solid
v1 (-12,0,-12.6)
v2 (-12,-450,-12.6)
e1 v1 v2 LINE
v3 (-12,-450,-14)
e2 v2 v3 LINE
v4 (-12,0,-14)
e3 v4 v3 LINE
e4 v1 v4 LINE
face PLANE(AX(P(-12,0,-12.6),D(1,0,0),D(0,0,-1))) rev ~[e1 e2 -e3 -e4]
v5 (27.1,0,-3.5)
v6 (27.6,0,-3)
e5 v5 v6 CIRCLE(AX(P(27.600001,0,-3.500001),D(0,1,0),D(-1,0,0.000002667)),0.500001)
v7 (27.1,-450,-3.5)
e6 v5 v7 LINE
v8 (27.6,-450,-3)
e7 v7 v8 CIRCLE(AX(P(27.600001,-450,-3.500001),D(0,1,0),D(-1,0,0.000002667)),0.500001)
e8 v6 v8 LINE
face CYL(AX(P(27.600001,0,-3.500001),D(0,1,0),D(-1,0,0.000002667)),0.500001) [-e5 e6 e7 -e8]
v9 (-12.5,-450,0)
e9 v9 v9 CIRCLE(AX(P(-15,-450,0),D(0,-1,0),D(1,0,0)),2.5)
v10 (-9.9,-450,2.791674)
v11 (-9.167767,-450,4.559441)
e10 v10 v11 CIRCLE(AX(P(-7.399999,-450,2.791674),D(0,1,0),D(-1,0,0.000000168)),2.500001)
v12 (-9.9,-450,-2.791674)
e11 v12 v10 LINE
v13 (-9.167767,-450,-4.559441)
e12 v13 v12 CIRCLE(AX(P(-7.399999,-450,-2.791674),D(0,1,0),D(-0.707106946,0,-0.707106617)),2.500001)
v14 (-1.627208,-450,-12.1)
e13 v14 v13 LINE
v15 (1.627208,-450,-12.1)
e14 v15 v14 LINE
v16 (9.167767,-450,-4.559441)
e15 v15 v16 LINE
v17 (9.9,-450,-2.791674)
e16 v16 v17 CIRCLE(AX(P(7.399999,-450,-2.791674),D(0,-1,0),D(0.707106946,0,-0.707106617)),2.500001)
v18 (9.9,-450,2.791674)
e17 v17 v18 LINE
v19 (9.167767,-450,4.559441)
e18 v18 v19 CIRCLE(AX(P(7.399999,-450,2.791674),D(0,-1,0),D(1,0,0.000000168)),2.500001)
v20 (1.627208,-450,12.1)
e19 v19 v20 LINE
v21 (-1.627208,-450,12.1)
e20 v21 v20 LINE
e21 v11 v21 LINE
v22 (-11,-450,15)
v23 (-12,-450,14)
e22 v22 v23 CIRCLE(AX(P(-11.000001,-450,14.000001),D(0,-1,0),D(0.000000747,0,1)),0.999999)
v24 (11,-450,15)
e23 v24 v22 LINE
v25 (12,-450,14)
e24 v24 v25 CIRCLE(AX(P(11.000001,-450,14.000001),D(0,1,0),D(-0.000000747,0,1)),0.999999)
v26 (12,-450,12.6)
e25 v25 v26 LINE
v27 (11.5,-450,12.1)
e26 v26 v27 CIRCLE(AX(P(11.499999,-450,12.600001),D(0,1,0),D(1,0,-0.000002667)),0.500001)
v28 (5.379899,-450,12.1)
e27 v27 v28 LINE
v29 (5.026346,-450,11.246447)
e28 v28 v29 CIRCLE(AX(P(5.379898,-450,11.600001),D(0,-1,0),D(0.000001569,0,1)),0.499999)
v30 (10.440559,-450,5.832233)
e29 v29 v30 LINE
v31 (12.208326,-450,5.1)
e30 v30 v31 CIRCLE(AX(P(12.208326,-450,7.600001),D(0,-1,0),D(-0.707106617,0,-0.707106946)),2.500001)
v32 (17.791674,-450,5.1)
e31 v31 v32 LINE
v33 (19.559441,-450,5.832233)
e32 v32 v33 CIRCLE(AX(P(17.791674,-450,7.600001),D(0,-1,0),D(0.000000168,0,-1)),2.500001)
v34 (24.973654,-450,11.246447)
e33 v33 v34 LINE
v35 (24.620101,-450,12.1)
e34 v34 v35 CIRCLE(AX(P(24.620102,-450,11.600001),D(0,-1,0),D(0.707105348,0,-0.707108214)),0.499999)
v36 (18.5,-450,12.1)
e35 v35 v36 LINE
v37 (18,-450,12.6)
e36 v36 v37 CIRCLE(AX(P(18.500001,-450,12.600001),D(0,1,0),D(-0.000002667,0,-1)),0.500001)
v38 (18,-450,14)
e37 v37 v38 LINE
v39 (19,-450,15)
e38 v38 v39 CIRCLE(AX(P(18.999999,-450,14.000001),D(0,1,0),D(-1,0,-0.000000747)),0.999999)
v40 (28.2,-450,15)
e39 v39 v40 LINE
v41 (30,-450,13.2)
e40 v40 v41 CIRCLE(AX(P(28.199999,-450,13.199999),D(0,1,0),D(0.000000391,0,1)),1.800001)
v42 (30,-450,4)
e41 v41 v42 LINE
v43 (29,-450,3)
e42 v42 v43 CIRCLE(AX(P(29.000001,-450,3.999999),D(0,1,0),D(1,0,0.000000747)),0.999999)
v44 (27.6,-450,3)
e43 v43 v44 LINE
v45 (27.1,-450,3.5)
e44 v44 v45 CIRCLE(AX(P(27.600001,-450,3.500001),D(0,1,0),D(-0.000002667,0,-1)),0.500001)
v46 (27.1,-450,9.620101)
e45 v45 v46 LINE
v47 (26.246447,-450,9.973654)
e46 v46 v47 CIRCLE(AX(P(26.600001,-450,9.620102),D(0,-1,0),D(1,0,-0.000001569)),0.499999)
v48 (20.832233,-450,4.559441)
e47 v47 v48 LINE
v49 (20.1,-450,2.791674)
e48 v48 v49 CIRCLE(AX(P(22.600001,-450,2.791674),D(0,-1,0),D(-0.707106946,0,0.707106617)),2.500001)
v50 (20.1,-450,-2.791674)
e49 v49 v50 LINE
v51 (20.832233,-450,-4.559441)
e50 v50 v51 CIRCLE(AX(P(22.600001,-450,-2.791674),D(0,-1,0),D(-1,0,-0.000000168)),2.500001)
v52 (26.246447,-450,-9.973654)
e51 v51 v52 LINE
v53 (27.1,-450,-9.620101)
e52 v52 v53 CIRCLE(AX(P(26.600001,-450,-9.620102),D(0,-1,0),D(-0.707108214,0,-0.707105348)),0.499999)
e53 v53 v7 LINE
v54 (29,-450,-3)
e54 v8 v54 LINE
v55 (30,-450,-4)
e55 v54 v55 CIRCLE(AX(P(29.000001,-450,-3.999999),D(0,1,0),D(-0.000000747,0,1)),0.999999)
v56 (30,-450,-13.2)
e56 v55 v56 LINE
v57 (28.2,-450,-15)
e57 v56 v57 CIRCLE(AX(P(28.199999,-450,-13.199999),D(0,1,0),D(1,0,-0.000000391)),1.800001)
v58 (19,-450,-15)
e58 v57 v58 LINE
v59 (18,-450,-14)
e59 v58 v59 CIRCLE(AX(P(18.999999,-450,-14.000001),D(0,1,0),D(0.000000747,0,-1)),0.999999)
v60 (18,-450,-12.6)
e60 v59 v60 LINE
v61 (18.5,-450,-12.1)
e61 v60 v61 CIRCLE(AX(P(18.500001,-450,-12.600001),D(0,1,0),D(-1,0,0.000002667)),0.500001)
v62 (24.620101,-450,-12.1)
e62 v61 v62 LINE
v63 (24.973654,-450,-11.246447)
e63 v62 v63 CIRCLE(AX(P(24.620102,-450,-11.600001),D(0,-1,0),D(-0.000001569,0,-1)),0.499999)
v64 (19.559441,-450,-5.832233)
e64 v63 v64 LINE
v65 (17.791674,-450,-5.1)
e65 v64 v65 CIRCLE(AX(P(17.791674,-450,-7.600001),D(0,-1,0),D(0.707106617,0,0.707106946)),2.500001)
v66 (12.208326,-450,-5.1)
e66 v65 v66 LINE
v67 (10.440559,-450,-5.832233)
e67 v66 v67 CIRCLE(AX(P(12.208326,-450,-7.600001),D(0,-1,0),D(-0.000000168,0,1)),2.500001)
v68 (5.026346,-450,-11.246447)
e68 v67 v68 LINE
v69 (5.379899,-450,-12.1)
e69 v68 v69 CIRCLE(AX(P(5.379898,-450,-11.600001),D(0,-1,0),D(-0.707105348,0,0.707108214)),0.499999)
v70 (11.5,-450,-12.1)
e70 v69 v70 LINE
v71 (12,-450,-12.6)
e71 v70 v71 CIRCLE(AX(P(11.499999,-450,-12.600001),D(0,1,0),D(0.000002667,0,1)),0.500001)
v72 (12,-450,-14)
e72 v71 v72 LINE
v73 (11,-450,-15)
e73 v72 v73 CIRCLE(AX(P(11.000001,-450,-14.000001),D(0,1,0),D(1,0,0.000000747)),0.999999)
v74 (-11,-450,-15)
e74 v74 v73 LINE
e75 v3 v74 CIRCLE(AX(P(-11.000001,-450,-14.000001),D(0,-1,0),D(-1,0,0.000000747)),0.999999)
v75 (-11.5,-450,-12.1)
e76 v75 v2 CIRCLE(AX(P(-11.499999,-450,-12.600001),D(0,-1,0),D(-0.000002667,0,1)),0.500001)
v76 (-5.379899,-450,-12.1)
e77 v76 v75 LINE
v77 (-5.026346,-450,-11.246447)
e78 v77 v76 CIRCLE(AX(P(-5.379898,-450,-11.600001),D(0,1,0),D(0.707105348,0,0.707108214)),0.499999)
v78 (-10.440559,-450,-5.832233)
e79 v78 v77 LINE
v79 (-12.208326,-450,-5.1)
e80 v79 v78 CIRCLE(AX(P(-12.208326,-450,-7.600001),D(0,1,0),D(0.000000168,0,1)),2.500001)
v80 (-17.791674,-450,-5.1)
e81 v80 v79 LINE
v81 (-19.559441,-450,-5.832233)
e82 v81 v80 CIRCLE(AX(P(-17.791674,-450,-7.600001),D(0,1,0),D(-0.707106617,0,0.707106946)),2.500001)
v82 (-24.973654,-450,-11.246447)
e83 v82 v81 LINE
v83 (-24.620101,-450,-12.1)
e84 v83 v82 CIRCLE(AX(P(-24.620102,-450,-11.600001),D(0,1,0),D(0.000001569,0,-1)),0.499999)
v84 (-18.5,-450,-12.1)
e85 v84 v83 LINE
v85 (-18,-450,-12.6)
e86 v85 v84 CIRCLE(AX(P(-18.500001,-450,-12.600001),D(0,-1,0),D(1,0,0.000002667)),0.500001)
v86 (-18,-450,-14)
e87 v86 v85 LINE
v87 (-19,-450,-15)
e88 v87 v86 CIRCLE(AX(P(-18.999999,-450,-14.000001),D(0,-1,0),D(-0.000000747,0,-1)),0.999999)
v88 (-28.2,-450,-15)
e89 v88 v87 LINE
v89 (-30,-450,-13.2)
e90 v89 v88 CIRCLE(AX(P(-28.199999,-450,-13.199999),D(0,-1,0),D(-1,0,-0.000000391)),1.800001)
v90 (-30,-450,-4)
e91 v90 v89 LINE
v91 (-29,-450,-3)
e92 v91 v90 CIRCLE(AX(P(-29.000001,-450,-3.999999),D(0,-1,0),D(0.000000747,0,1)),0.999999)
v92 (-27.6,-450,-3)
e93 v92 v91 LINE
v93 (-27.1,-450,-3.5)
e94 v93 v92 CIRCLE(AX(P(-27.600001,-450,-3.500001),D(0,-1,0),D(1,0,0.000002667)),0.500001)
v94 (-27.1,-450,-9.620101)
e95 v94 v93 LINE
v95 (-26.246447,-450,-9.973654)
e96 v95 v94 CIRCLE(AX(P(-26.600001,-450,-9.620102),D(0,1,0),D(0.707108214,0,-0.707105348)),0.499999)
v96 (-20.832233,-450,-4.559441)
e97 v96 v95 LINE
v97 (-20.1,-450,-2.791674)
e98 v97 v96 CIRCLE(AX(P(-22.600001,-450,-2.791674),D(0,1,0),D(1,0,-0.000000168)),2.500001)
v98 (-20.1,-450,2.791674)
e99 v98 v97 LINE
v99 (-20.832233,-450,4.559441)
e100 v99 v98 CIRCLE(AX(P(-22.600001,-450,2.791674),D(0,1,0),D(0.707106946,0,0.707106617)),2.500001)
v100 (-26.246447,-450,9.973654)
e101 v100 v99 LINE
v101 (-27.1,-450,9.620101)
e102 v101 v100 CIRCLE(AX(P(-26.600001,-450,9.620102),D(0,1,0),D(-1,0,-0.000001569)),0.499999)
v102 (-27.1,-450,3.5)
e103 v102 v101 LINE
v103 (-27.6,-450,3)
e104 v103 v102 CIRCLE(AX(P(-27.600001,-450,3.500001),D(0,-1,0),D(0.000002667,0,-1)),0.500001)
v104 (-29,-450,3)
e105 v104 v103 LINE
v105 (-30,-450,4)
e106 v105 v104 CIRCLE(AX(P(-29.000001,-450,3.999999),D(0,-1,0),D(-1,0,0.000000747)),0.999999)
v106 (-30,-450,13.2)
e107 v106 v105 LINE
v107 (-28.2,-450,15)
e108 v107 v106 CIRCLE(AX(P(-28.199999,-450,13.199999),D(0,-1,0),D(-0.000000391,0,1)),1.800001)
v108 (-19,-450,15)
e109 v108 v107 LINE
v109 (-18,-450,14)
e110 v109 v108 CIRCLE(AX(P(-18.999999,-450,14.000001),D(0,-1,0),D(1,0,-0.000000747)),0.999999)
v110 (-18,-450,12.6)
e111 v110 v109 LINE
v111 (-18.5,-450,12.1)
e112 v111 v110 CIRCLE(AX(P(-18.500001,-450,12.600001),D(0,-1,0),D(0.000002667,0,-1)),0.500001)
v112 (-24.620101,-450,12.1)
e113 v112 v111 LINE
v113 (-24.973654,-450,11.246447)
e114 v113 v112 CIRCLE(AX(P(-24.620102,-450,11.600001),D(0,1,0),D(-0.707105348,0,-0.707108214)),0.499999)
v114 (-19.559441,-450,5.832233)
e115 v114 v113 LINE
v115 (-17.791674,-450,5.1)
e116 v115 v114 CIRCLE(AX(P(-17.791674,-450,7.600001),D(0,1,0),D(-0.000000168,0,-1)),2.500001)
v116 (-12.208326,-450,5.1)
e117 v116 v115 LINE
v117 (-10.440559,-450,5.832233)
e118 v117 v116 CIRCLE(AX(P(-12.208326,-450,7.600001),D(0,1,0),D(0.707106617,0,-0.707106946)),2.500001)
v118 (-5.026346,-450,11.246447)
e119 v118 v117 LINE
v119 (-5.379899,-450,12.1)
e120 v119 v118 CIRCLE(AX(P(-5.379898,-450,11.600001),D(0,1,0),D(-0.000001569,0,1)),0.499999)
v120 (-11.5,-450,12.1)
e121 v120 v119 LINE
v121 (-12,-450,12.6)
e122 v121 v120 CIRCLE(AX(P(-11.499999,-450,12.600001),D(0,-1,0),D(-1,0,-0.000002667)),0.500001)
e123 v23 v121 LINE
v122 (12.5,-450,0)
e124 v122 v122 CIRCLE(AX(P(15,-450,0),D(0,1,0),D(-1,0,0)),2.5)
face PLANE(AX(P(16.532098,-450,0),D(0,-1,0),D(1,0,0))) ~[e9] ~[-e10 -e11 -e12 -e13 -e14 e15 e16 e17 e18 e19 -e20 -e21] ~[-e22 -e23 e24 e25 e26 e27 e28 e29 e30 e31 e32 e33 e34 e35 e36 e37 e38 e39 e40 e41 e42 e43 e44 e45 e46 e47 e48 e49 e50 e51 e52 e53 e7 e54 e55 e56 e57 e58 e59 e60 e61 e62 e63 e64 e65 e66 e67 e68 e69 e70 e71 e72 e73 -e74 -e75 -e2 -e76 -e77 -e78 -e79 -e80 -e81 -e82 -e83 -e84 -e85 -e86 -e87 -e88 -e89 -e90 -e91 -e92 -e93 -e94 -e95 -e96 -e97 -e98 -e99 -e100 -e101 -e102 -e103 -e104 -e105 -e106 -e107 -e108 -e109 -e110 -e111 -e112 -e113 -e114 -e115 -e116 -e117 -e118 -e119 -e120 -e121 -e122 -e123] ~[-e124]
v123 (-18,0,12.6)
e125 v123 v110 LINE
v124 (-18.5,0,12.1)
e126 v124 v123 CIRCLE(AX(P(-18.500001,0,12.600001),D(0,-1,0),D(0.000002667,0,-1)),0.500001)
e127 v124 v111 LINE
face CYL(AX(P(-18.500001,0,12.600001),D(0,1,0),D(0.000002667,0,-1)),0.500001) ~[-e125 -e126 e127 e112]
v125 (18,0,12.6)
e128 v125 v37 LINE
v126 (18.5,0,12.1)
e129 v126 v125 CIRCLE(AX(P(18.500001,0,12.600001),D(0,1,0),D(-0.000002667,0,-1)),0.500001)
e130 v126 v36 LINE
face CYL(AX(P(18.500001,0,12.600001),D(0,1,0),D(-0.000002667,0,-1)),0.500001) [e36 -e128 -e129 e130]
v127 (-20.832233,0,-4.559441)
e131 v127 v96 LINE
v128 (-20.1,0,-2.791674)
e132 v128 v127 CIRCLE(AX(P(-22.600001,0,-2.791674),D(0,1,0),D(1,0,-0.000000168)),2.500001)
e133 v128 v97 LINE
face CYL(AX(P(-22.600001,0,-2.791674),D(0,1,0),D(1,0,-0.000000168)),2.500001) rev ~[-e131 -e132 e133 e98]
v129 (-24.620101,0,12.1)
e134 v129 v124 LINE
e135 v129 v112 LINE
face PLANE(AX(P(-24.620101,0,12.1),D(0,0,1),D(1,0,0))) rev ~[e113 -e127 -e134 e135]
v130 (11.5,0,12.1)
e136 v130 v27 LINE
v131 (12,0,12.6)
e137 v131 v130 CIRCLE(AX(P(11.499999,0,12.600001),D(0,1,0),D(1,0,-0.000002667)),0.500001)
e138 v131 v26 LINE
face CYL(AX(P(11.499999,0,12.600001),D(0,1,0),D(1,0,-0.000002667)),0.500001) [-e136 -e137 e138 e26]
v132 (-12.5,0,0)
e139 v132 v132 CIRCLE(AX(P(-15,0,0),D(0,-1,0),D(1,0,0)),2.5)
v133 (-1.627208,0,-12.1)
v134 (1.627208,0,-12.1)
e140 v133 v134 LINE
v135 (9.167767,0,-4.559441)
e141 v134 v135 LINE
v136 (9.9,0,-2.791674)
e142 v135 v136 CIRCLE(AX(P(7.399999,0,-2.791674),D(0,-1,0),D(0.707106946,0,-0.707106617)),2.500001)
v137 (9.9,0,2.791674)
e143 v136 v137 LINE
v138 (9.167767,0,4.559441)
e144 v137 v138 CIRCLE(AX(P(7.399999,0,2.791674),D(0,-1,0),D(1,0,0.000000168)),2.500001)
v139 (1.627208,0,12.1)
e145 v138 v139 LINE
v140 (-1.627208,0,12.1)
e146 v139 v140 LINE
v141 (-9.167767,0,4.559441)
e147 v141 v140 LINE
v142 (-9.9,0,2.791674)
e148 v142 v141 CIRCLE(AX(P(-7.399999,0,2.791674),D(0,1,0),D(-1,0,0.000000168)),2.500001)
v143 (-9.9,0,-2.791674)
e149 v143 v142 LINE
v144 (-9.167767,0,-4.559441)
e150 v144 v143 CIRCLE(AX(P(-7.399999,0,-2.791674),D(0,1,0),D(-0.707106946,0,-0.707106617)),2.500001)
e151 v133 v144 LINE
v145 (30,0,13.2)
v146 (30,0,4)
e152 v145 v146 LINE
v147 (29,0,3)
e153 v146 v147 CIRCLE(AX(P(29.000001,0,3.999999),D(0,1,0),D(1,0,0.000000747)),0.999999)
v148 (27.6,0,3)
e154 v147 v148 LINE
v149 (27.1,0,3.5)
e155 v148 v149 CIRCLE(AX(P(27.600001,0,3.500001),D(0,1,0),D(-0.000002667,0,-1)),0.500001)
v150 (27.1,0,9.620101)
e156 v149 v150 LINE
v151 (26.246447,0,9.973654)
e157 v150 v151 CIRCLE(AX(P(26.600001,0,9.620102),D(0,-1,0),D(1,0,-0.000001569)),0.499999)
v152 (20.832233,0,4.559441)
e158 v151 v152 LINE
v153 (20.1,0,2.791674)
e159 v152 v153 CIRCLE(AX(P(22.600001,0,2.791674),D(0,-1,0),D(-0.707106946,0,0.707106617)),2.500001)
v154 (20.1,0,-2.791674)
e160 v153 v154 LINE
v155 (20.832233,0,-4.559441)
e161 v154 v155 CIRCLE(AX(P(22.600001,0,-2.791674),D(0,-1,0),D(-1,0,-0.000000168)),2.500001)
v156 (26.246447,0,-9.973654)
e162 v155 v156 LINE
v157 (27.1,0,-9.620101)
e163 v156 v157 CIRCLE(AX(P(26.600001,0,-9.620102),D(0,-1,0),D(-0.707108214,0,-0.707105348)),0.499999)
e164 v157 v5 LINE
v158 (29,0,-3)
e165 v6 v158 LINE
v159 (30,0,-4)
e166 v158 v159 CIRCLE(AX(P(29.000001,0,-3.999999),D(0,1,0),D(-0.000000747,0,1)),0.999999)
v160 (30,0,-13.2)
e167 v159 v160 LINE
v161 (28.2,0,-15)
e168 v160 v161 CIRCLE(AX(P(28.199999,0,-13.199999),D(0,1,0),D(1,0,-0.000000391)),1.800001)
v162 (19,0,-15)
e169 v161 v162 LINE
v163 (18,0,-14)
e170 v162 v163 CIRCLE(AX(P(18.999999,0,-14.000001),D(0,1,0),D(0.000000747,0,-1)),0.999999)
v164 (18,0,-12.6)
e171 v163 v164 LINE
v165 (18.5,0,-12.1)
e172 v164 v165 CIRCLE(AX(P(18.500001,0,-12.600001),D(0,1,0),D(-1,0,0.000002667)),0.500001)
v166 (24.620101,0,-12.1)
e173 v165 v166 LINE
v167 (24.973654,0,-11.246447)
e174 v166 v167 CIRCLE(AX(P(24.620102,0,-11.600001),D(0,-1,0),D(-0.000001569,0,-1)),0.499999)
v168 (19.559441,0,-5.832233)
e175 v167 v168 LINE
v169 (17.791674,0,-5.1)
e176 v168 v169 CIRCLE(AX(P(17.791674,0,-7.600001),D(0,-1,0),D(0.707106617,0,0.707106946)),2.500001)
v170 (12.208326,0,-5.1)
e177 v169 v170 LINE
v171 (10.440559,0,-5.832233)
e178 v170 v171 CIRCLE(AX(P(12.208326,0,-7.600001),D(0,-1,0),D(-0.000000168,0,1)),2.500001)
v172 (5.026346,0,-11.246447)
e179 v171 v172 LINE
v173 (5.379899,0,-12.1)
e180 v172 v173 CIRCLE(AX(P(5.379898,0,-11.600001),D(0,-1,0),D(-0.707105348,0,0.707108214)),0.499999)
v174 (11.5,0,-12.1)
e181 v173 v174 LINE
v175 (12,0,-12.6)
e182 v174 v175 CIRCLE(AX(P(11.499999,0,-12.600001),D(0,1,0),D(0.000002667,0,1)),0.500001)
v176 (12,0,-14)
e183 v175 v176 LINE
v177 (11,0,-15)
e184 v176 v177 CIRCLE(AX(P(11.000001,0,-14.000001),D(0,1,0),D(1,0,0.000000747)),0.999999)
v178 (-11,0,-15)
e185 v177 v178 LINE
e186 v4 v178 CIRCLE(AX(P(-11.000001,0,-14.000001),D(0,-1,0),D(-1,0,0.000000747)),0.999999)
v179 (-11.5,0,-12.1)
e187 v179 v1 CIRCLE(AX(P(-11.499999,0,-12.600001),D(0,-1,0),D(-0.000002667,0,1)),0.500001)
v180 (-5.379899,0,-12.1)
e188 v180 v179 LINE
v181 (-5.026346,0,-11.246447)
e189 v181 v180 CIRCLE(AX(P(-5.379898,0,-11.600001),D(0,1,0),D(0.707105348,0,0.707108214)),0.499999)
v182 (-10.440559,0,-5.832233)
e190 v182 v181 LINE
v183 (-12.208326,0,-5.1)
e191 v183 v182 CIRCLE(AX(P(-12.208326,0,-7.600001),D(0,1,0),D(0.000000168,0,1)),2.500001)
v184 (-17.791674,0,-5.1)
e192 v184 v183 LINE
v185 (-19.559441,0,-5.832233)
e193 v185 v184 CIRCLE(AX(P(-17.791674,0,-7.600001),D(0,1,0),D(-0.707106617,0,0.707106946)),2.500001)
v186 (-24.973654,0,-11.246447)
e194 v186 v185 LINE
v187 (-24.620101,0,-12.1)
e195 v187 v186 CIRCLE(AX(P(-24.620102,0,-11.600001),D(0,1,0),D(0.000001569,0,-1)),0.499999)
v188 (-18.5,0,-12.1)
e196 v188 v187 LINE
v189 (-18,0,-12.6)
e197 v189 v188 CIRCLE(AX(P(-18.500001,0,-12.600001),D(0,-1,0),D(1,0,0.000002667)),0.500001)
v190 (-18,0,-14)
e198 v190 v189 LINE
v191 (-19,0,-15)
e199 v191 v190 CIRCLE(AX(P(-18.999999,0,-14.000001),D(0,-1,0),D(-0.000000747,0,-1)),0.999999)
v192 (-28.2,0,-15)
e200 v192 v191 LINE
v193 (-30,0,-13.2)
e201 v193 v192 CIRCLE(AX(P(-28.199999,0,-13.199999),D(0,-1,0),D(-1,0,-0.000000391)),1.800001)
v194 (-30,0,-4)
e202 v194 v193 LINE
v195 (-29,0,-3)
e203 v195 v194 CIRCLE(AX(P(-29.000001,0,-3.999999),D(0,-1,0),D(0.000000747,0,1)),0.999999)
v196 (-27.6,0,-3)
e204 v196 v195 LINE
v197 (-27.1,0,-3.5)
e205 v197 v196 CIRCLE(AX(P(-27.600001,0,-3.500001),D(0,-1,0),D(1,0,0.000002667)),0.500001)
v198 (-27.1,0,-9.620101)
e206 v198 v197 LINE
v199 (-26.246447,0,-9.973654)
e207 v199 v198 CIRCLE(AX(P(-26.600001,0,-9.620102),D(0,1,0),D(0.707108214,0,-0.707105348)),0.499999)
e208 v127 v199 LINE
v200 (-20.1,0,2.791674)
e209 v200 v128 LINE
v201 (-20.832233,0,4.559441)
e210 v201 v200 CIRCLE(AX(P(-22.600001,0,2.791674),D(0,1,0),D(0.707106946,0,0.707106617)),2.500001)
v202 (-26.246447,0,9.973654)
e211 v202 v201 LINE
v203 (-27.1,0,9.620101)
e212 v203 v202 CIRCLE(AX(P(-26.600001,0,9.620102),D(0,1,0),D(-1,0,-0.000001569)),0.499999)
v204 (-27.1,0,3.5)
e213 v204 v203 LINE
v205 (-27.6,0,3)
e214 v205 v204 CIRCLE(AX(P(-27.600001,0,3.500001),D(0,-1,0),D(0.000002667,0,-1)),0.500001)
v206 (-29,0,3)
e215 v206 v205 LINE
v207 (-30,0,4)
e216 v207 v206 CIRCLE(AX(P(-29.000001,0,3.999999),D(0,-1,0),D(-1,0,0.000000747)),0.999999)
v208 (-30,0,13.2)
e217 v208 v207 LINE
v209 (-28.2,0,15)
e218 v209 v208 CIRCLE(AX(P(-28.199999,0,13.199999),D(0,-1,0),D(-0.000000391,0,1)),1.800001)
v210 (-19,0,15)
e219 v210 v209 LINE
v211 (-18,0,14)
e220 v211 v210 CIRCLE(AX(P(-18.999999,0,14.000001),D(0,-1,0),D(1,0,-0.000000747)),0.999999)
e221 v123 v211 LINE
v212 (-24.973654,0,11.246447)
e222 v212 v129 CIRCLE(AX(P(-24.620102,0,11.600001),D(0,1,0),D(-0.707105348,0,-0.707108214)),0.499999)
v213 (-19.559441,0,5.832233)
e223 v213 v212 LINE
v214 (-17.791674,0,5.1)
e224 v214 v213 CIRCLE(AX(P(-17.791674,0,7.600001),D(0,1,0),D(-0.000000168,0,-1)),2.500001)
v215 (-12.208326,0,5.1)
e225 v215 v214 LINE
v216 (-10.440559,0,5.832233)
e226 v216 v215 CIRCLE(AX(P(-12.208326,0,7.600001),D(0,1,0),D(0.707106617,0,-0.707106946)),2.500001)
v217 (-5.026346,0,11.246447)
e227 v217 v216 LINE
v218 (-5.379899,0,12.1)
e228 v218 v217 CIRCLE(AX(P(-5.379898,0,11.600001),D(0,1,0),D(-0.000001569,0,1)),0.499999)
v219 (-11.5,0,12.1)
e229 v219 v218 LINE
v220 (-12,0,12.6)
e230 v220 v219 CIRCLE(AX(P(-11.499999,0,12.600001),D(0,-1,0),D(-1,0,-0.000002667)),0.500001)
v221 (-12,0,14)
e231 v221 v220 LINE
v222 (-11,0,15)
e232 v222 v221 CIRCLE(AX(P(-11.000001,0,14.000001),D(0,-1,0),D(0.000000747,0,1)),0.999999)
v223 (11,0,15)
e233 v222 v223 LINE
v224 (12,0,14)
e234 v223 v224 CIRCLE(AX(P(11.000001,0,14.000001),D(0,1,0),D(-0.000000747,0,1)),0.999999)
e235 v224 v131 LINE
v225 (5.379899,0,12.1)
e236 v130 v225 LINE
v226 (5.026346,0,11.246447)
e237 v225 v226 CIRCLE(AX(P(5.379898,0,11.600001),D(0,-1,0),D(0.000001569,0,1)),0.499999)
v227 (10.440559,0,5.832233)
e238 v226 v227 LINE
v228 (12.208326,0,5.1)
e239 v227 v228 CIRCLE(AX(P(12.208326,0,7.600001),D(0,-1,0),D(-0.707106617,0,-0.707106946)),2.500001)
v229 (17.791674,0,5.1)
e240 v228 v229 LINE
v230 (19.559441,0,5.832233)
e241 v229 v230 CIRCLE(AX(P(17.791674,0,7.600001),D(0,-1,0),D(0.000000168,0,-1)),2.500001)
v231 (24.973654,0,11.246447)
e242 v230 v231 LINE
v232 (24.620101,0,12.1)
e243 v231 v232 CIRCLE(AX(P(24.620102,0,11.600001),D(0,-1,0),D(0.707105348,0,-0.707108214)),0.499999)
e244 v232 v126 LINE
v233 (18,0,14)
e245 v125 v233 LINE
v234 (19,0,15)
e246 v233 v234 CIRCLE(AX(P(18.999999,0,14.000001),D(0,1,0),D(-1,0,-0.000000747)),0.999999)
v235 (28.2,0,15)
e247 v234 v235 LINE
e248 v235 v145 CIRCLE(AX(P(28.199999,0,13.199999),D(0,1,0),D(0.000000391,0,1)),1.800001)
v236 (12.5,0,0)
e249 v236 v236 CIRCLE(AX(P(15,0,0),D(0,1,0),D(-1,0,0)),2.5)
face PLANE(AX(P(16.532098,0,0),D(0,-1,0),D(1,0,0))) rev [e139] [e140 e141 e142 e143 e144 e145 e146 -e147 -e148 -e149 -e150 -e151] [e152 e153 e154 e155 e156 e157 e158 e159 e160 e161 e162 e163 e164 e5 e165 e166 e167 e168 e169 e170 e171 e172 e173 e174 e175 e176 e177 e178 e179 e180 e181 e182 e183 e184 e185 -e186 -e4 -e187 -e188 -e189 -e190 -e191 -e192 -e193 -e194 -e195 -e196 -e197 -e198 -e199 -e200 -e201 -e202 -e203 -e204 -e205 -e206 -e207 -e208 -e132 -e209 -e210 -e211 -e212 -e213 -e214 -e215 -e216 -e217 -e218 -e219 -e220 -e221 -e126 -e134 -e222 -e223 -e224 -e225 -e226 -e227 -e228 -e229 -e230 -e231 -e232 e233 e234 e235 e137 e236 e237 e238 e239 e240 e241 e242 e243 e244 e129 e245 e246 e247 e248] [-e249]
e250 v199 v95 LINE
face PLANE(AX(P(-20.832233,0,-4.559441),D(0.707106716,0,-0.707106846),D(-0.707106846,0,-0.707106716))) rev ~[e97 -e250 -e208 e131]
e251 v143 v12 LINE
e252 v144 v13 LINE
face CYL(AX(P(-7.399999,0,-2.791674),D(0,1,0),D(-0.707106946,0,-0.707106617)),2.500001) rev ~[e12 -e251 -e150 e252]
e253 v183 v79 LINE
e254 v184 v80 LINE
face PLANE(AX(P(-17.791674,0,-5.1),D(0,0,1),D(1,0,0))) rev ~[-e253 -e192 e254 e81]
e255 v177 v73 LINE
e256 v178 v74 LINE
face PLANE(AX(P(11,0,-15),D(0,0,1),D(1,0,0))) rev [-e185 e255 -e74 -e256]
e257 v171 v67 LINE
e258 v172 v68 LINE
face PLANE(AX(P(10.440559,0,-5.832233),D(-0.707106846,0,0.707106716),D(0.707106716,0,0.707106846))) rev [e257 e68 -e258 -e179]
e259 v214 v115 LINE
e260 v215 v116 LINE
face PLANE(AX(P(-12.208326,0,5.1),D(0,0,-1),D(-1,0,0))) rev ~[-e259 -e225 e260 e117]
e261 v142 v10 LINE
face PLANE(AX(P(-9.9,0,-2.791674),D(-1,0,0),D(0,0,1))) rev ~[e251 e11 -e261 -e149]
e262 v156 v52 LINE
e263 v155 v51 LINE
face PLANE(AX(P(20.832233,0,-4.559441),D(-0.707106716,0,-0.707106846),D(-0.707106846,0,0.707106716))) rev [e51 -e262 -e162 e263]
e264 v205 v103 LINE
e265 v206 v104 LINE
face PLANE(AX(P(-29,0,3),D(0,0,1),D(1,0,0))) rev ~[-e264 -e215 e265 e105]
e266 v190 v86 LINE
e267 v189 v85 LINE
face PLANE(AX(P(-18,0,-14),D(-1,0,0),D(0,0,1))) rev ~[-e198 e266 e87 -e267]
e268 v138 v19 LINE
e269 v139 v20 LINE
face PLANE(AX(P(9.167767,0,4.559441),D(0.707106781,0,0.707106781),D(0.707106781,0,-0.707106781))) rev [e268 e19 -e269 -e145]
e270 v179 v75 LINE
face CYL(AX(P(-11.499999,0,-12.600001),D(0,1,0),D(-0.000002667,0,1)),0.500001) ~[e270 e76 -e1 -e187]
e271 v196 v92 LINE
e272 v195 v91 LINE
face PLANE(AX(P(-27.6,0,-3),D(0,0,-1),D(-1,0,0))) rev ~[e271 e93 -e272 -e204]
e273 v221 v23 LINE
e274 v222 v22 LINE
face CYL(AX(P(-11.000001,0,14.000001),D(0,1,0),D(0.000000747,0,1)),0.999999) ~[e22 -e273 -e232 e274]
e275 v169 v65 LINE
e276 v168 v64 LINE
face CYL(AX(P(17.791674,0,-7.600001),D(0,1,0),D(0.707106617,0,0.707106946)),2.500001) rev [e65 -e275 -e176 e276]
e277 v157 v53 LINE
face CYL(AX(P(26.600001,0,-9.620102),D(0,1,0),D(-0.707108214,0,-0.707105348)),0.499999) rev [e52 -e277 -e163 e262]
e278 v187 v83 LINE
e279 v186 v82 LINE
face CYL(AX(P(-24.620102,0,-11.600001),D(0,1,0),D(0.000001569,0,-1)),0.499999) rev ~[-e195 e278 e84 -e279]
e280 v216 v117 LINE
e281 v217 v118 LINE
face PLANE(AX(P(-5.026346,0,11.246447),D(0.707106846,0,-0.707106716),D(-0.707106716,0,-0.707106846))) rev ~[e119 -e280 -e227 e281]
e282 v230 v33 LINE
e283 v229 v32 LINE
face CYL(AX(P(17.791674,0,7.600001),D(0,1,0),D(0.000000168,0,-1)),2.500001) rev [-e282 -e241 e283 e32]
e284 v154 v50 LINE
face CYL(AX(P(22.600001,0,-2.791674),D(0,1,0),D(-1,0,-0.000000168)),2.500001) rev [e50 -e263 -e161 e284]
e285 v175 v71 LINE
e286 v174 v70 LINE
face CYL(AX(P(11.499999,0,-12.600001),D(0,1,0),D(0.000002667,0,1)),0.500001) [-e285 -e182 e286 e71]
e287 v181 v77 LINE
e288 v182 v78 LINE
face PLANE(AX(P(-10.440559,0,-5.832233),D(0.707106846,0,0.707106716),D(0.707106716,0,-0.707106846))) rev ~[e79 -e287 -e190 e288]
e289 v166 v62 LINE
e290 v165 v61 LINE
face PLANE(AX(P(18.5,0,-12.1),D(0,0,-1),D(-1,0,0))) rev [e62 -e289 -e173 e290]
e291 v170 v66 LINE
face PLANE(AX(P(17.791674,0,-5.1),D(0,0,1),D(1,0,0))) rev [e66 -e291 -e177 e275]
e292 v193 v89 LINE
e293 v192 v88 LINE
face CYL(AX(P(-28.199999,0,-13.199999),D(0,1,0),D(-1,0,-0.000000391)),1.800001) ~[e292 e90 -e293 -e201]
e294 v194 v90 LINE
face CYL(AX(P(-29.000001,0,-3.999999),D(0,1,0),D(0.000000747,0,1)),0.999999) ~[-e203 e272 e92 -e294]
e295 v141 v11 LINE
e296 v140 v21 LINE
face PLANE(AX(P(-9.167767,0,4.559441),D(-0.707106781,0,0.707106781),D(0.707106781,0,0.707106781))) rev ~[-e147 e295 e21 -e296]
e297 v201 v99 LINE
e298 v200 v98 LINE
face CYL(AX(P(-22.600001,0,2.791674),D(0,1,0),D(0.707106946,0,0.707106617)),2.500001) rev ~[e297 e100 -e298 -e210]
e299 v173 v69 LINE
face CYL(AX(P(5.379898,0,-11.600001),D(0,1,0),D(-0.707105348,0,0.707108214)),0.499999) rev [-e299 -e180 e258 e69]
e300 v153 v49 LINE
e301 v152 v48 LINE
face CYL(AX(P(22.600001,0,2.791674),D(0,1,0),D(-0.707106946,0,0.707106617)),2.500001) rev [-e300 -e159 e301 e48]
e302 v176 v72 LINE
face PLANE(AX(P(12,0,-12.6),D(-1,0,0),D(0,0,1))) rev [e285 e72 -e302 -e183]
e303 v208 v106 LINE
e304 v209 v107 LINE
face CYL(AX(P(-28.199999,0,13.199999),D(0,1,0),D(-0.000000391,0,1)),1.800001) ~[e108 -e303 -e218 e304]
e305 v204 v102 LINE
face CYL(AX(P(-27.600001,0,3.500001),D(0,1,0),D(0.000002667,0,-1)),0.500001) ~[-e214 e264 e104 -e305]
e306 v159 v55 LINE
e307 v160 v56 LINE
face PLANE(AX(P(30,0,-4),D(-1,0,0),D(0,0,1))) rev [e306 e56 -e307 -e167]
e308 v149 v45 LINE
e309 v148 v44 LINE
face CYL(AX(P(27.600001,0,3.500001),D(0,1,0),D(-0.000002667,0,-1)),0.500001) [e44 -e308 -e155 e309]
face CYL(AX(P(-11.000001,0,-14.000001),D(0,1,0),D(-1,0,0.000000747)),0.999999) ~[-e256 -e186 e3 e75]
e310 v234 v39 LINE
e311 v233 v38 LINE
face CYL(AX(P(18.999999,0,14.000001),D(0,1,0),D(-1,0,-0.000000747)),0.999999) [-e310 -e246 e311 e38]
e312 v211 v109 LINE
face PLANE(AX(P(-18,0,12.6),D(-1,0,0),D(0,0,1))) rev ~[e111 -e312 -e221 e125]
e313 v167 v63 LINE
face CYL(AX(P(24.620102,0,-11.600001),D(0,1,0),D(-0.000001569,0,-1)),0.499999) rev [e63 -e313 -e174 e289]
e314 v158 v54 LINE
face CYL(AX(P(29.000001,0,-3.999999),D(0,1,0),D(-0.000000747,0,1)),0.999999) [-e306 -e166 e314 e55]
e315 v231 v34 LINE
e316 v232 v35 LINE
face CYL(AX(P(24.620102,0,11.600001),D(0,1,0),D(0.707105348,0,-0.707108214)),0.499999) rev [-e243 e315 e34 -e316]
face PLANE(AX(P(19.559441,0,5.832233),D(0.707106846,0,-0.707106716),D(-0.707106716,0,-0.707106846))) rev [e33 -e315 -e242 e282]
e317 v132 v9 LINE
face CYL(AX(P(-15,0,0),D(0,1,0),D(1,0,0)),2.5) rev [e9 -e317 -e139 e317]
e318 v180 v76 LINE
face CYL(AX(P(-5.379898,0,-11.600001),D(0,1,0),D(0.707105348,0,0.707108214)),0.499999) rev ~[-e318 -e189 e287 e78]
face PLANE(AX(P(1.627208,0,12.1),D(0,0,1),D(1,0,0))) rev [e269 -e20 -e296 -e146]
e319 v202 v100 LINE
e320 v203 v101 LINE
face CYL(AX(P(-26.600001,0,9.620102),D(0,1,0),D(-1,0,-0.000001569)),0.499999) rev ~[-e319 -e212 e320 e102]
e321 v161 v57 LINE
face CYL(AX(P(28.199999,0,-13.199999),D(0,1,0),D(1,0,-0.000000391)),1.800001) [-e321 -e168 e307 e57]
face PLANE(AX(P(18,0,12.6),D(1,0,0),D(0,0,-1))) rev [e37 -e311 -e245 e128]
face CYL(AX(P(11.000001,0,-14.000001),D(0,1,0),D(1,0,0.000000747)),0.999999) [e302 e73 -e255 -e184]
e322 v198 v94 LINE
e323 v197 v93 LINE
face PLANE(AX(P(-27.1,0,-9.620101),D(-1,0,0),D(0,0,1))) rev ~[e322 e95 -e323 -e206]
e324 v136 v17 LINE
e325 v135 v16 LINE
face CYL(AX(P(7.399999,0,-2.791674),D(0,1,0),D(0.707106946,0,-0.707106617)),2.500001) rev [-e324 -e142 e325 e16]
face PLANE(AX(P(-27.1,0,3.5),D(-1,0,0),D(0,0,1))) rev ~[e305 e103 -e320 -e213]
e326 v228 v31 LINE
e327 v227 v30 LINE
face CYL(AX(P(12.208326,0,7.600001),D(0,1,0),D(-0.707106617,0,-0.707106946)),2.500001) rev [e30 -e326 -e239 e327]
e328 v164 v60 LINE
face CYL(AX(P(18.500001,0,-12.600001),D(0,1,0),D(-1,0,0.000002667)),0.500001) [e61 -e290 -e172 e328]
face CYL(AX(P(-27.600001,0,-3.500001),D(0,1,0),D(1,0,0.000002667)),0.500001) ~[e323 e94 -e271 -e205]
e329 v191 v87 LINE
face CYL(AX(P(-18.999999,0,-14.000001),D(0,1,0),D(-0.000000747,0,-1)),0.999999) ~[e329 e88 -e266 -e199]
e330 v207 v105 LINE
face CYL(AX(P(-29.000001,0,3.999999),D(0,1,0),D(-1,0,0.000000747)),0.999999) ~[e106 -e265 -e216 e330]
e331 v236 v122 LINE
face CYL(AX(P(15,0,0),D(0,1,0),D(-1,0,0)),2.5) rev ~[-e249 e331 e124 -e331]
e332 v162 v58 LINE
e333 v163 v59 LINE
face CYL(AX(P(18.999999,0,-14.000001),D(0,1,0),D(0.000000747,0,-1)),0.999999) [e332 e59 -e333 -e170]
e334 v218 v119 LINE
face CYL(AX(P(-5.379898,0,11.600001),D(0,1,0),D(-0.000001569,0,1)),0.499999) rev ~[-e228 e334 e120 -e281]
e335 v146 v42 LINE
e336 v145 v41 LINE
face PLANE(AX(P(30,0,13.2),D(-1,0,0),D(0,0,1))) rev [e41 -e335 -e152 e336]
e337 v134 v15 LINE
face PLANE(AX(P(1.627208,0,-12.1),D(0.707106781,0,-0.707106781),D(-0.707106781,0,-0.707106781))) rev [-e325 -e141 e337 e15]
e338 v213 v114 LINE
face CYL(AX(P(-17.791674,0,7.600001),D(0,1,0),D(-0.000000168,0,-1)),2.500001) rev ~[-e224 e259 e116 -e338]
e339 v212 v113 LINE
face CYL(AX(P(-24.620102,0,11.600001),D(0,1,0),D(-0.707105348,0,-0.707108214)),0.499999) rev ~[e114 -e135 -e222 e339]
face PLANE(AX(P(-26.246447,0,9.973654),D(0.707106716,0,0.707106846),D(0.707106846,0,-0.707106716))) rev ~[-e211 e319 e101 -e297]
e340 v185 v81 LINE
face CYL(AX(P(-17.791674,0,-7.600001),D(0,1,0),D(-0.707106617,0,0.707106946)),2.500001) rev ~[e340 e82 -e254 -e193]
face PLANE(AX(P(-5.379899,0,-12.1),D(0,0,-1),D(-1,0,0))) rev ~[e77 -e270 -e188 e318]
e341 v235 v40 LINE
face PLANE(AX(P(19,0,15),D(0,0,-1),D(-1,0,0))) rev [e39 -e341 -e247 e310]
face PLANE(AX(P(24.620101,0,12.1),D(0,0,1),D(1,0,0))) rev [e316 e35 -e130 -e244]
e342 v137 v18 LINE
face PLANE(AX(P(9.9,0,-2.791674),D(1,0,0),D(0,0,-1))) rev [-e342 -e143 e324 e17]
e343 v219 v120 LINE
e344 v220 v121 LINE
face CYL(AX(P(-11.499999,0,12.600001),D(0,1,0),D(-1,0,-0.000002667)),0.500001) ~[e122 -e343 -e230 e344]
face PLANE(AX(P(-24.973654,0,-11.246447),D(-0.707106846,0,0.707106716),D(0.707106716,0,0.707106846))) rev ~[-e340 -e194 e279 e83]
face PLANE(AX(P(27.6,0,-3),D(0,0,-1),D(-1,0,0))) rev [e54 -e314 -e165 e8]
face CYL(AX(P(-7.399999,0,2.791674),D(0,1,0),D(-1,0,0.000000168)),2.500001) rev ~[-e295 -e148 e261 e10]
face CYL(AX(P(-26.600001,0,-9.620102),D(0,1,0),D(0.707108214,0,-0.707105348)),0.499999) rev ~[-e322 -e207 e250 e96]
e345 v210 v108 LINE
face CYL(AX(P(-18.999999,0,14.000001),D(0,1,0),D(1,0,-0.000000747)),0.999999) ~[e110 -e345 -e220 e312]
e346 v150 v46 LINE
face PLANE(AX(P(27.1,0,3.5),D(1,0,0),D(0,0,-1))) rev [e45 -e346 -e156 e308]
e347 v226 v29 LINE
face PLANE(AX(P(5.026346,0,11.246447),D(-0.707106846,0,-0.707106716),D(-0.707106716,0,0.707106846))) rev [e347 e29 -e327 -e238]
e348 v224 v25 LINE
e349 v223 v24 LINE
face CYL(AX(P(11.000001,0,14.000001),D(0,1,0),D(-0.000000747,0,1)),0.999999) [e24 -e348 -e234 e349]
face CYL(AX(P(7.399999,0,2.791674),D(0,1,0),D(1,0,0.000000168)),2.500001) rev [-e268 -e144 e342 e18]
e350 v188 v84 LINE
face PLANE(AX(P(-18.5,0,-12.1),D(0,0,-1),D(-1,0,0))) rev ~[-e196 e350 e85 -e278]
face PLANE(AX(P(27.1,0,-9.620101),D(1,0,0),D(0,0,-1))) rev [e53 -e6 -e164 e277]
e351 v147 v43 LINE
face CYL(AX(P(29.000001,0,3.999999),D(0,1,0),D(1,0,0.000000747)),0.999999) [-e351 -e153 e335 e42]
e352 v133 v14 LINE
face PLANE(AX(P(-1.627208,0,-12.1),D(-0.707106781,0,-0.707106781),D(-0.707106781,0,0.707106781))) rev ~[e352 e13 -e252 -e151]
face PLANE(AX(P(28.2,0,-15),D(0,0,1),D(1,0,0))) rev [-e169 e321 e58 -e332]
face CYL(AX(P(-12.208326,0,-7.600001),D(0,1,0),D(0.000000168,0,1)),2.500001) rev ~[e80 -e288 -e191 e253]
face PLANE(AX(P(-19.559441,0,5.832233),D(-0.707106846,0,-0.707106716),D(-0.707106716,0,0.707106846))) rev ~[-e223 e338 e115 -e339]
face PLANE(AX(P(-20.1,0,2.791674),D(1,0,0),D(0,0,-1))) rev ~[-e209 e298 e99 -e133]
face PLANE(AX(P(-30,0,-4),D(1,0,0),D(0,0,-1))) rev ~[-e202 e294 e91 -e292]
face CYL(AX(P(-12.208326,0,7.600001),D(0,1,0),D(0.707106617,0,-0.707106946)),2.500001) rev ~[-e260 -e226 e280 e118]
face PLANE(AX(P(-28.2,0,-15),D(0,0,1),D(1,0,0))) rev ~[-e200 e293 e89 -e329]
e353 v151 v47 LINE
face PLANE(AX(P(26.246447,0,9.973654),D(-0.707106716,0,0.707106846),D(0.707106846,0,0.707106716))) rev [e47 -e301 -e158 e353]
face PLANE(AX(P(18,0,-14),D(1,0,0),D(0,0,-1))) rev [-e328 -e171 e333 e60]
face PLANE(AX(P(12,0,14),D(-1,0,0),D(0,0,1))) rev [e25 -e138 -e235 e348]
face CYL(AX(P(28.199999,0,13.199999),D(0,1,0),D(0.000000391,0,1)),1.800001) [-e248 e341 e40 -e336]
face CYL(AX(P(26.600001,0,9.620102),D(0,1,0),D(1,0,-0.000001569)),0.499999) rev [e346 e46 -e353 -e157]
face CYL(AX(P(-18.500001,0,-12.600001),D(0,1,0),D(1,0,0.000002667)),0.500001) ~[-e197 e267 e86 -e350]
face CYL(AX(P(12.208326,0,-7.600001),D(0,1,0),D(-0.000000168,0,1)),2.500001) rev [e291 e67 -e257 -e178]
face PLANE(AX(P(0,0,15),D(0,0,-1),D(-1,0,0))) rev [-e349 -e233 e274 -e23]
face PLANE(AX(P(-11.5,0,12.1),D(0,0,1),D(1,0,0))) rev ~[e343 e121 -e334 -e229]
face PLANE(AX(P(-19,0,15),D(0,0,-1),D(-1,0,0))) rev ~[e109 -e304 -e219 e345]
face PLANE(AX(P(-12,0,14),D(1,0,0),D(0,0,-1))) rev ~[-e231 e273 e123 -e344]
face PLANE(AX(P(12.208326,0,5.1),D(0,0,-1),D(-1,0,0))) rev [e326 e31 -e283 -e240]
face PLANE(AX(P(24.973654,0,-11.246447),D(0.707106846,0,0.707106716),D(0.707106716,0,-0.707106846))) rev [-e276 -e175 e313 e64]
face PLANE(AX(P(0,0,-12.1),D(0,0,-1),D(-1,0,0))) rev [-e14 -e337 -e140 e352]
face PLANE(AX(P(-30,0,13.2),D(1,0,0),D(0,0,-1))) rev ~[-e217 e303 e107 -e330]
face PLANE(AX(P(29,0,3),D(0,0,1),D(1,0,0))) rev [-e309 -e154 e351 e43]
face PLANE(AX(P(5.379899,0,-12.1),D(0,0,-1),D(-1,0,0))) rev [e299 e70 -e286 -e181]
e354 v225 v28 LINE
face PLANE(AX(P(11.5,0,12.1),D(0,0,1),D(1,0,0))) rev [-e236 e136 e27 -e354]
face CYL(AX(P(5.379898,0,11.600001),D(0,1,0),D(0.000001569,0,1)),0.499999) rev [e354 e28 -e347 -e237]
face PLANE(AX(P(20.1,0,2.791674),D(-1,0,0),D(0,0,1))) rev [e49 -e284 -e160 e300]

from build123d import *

# Parameters (mm, degrees)
F0_R     = 2.5
F1_DEPTH = 450


with BuildPart() as f1:
    # F0 (on Front) → F1 (new body)
    with BuildSketch(Plane.XZ):
        with BuildLine():
            ThreePointArc((-30, -13.2), (-29.472792, -14.472792), (-28.2, -15))
            Line((-28.2, -15), (-19, -15))
            ThreePointArc((-19, -15), (-18.292893, -14.707107), (-18, -14))
            Line((-18, -14), (-18, -12.6))
            ThreePointArc((-18, -12.6), (-18.146447, -12.246447), (-18.5, -12.1))
            Line((-18.5, -12.1), (-24.620101, -12.1))
            ThreePointArc((-24.620101, -12.1), (-25.082041, -11.791342), (-24.973654, -11.246447))
            Line((-24.973654, -11.246447), (-19.559441, -5.832233))
            ThreePointArc((-19.559441, -5.832233), (-18.748382, -5.290301), (-17.791674, -5.1))
            Line((-17.791674, -5.1), (-12.208326, -5.1))
            ThreePointArc((-12.208326, -5.1), (-11.251618, -5.290301), (-10.440559, -5.832233))
            Line((-10.440559, -5.832233), (-5.026346, -11.246447))
            ThreePointArc((-5.026346, -11.246447), (-4.917959, -11.791342), (-5.379899, -12.1))
            Line((-5.379899, -12.1), (-11.5, -12.1))
            ThreePointArc((-11.5, -12.1), (-11.853553, -12.246447), (-12, -12.6))
            Line((-12, -12.6), (-12, -14))
            ThreePointArc((-12, -14), (-11.707107, -14.707107), (-11, -15))
            Line((-11, -15), (0, -15))
            Line((0, -15), (0, -12.1))
            Line((0, -12.1), (-1.627208, -12.1))
            Line((-1.627208, -12.1), (-9.167767, -4.559441))
            ThreePointArc((-9.167767, -4.559441), (-9.709699, -3.748382), (-9.9, -2.791674))
            Line((-9.9, -2.791674), (-9.9, 2.791674))
            ThreePointArc((-9.9, 2.791674), (-9.709699, 3.748382), (-9.167767, 4.559441))
            Line((-9.167767, 4.559441), (-1.627208, 12.1))
            Line((-1.627208, 12.1), (0, 12.1))
            Line((0, 12.1), (0, 15))
            Line((0, 15), (-11, 15))
            ThreePointArc((-11, 15), (-11.707107, 14.707107), (-12, 14))
            Line((-12, 14), (-12, 12.6))
            ThreePointArc((-12, 12.6), (-11.853553, 12.246447), (-11.5, 12.1))
            Line((-11.5, 12.1), (-5.379899, 12.1))
            ThreePointArc((-5.379899, 12.1), (-4.917959, 11.791342), (-5.026346, 11.246447))
            Line((-5.026346, 11.246447), (-10.440559, 5.832233))
            ThreePointArc((-10.440559, 5.832233), (-11.251618, 5.290301), (-12.208326, 5.1))
            Line((-12.208326, 5.1), (-17.791674, 5.1))
            ThreePointArc((-17.791674, 5.1), (-18.748382, 5.290301), (-19.559441, 5.832233))
            Line((-19.559441, 5.832233), (-24.973654, 11.246447))
            ThreePointArc((-24.973654, 11.246447), (-25.082041, 11.791342), (-24.620101, 12.1))
            Line((-24.620101, 12.1), (-18.5, 12.1))
            ThreePointArc((-18.5, 12.1), (-18.146447, 12.246447), (-18, 12.6))
            Line((-18, 12.6), (-18, 14))
            ThreePointArc((-18, 14), (-18.292893, 14.707107), (-19, 15))
            Line((-19, 15), (-28.2, 15))
            ThreePointArc((-28.2, 15), (-29.472792, 14.472792), (-30, 13.2))
            Line((-30, 13.2), (-30, 4))
            ThreePointArc((-30, 4), (-29.707107, 3.292893), (-29, 3))
            Line((-29, 3), (-27.6, 3))
            ThreePointArc((-27.6, 3), (-27.246447, 3.146447), (-27.1, 3.5))
            Line((-27.1, 3.5), (-27.1, 9.620101))
            ThreePointArc((-27.1, 9.620101), (-26.791342, 10.082041), (-26.246447, 9.973654))
            Line((-26.246447, 9.973654), (-20.832233, 4.559441))
            ThreePointArc((-20.832233, 4.559441), (-20.290301, 3.748382), (-20.1, 2.791674))
            Line((-20.1, 2.791674), (-20.1, -2.791674))
            ThreePointArc((-20.1, -2.791674), (-20.290301, -3.748382), (-20.832233, -4.559441))
            Line((-20.832233, -4.559441), (-26.246447, -9.973654))
            ThreePointArc((-26.246447, -9.973654), (-26.791342, -10.082041), (-27.1, -9.620101))
            Line((-27.1, -9.620101), (-27.1, -3.5))
            ThreePointArc((-27.1, -3.5), (-27.246447, -3.146447), (-27.6, -3))
            Line((-27.6, -3), (-29, -3))
            ThreePointArc((-29, -3), (-29.707107, -3.292893), (-30, -4))
            Line((-30, -4), (-30, -13.2))
        make_face()
        with Locations((-15, 0)):
            Circle(F0_R, mode=Mode.SUBTRACT)
    extrude(amount=F1_DEPTH)

    # F2: F1 across plane


with BuildPart() as f1_1:
    add(f1.part)
    add(f1.part.mirror(Plane.YZ))


solid = f1_1.part
